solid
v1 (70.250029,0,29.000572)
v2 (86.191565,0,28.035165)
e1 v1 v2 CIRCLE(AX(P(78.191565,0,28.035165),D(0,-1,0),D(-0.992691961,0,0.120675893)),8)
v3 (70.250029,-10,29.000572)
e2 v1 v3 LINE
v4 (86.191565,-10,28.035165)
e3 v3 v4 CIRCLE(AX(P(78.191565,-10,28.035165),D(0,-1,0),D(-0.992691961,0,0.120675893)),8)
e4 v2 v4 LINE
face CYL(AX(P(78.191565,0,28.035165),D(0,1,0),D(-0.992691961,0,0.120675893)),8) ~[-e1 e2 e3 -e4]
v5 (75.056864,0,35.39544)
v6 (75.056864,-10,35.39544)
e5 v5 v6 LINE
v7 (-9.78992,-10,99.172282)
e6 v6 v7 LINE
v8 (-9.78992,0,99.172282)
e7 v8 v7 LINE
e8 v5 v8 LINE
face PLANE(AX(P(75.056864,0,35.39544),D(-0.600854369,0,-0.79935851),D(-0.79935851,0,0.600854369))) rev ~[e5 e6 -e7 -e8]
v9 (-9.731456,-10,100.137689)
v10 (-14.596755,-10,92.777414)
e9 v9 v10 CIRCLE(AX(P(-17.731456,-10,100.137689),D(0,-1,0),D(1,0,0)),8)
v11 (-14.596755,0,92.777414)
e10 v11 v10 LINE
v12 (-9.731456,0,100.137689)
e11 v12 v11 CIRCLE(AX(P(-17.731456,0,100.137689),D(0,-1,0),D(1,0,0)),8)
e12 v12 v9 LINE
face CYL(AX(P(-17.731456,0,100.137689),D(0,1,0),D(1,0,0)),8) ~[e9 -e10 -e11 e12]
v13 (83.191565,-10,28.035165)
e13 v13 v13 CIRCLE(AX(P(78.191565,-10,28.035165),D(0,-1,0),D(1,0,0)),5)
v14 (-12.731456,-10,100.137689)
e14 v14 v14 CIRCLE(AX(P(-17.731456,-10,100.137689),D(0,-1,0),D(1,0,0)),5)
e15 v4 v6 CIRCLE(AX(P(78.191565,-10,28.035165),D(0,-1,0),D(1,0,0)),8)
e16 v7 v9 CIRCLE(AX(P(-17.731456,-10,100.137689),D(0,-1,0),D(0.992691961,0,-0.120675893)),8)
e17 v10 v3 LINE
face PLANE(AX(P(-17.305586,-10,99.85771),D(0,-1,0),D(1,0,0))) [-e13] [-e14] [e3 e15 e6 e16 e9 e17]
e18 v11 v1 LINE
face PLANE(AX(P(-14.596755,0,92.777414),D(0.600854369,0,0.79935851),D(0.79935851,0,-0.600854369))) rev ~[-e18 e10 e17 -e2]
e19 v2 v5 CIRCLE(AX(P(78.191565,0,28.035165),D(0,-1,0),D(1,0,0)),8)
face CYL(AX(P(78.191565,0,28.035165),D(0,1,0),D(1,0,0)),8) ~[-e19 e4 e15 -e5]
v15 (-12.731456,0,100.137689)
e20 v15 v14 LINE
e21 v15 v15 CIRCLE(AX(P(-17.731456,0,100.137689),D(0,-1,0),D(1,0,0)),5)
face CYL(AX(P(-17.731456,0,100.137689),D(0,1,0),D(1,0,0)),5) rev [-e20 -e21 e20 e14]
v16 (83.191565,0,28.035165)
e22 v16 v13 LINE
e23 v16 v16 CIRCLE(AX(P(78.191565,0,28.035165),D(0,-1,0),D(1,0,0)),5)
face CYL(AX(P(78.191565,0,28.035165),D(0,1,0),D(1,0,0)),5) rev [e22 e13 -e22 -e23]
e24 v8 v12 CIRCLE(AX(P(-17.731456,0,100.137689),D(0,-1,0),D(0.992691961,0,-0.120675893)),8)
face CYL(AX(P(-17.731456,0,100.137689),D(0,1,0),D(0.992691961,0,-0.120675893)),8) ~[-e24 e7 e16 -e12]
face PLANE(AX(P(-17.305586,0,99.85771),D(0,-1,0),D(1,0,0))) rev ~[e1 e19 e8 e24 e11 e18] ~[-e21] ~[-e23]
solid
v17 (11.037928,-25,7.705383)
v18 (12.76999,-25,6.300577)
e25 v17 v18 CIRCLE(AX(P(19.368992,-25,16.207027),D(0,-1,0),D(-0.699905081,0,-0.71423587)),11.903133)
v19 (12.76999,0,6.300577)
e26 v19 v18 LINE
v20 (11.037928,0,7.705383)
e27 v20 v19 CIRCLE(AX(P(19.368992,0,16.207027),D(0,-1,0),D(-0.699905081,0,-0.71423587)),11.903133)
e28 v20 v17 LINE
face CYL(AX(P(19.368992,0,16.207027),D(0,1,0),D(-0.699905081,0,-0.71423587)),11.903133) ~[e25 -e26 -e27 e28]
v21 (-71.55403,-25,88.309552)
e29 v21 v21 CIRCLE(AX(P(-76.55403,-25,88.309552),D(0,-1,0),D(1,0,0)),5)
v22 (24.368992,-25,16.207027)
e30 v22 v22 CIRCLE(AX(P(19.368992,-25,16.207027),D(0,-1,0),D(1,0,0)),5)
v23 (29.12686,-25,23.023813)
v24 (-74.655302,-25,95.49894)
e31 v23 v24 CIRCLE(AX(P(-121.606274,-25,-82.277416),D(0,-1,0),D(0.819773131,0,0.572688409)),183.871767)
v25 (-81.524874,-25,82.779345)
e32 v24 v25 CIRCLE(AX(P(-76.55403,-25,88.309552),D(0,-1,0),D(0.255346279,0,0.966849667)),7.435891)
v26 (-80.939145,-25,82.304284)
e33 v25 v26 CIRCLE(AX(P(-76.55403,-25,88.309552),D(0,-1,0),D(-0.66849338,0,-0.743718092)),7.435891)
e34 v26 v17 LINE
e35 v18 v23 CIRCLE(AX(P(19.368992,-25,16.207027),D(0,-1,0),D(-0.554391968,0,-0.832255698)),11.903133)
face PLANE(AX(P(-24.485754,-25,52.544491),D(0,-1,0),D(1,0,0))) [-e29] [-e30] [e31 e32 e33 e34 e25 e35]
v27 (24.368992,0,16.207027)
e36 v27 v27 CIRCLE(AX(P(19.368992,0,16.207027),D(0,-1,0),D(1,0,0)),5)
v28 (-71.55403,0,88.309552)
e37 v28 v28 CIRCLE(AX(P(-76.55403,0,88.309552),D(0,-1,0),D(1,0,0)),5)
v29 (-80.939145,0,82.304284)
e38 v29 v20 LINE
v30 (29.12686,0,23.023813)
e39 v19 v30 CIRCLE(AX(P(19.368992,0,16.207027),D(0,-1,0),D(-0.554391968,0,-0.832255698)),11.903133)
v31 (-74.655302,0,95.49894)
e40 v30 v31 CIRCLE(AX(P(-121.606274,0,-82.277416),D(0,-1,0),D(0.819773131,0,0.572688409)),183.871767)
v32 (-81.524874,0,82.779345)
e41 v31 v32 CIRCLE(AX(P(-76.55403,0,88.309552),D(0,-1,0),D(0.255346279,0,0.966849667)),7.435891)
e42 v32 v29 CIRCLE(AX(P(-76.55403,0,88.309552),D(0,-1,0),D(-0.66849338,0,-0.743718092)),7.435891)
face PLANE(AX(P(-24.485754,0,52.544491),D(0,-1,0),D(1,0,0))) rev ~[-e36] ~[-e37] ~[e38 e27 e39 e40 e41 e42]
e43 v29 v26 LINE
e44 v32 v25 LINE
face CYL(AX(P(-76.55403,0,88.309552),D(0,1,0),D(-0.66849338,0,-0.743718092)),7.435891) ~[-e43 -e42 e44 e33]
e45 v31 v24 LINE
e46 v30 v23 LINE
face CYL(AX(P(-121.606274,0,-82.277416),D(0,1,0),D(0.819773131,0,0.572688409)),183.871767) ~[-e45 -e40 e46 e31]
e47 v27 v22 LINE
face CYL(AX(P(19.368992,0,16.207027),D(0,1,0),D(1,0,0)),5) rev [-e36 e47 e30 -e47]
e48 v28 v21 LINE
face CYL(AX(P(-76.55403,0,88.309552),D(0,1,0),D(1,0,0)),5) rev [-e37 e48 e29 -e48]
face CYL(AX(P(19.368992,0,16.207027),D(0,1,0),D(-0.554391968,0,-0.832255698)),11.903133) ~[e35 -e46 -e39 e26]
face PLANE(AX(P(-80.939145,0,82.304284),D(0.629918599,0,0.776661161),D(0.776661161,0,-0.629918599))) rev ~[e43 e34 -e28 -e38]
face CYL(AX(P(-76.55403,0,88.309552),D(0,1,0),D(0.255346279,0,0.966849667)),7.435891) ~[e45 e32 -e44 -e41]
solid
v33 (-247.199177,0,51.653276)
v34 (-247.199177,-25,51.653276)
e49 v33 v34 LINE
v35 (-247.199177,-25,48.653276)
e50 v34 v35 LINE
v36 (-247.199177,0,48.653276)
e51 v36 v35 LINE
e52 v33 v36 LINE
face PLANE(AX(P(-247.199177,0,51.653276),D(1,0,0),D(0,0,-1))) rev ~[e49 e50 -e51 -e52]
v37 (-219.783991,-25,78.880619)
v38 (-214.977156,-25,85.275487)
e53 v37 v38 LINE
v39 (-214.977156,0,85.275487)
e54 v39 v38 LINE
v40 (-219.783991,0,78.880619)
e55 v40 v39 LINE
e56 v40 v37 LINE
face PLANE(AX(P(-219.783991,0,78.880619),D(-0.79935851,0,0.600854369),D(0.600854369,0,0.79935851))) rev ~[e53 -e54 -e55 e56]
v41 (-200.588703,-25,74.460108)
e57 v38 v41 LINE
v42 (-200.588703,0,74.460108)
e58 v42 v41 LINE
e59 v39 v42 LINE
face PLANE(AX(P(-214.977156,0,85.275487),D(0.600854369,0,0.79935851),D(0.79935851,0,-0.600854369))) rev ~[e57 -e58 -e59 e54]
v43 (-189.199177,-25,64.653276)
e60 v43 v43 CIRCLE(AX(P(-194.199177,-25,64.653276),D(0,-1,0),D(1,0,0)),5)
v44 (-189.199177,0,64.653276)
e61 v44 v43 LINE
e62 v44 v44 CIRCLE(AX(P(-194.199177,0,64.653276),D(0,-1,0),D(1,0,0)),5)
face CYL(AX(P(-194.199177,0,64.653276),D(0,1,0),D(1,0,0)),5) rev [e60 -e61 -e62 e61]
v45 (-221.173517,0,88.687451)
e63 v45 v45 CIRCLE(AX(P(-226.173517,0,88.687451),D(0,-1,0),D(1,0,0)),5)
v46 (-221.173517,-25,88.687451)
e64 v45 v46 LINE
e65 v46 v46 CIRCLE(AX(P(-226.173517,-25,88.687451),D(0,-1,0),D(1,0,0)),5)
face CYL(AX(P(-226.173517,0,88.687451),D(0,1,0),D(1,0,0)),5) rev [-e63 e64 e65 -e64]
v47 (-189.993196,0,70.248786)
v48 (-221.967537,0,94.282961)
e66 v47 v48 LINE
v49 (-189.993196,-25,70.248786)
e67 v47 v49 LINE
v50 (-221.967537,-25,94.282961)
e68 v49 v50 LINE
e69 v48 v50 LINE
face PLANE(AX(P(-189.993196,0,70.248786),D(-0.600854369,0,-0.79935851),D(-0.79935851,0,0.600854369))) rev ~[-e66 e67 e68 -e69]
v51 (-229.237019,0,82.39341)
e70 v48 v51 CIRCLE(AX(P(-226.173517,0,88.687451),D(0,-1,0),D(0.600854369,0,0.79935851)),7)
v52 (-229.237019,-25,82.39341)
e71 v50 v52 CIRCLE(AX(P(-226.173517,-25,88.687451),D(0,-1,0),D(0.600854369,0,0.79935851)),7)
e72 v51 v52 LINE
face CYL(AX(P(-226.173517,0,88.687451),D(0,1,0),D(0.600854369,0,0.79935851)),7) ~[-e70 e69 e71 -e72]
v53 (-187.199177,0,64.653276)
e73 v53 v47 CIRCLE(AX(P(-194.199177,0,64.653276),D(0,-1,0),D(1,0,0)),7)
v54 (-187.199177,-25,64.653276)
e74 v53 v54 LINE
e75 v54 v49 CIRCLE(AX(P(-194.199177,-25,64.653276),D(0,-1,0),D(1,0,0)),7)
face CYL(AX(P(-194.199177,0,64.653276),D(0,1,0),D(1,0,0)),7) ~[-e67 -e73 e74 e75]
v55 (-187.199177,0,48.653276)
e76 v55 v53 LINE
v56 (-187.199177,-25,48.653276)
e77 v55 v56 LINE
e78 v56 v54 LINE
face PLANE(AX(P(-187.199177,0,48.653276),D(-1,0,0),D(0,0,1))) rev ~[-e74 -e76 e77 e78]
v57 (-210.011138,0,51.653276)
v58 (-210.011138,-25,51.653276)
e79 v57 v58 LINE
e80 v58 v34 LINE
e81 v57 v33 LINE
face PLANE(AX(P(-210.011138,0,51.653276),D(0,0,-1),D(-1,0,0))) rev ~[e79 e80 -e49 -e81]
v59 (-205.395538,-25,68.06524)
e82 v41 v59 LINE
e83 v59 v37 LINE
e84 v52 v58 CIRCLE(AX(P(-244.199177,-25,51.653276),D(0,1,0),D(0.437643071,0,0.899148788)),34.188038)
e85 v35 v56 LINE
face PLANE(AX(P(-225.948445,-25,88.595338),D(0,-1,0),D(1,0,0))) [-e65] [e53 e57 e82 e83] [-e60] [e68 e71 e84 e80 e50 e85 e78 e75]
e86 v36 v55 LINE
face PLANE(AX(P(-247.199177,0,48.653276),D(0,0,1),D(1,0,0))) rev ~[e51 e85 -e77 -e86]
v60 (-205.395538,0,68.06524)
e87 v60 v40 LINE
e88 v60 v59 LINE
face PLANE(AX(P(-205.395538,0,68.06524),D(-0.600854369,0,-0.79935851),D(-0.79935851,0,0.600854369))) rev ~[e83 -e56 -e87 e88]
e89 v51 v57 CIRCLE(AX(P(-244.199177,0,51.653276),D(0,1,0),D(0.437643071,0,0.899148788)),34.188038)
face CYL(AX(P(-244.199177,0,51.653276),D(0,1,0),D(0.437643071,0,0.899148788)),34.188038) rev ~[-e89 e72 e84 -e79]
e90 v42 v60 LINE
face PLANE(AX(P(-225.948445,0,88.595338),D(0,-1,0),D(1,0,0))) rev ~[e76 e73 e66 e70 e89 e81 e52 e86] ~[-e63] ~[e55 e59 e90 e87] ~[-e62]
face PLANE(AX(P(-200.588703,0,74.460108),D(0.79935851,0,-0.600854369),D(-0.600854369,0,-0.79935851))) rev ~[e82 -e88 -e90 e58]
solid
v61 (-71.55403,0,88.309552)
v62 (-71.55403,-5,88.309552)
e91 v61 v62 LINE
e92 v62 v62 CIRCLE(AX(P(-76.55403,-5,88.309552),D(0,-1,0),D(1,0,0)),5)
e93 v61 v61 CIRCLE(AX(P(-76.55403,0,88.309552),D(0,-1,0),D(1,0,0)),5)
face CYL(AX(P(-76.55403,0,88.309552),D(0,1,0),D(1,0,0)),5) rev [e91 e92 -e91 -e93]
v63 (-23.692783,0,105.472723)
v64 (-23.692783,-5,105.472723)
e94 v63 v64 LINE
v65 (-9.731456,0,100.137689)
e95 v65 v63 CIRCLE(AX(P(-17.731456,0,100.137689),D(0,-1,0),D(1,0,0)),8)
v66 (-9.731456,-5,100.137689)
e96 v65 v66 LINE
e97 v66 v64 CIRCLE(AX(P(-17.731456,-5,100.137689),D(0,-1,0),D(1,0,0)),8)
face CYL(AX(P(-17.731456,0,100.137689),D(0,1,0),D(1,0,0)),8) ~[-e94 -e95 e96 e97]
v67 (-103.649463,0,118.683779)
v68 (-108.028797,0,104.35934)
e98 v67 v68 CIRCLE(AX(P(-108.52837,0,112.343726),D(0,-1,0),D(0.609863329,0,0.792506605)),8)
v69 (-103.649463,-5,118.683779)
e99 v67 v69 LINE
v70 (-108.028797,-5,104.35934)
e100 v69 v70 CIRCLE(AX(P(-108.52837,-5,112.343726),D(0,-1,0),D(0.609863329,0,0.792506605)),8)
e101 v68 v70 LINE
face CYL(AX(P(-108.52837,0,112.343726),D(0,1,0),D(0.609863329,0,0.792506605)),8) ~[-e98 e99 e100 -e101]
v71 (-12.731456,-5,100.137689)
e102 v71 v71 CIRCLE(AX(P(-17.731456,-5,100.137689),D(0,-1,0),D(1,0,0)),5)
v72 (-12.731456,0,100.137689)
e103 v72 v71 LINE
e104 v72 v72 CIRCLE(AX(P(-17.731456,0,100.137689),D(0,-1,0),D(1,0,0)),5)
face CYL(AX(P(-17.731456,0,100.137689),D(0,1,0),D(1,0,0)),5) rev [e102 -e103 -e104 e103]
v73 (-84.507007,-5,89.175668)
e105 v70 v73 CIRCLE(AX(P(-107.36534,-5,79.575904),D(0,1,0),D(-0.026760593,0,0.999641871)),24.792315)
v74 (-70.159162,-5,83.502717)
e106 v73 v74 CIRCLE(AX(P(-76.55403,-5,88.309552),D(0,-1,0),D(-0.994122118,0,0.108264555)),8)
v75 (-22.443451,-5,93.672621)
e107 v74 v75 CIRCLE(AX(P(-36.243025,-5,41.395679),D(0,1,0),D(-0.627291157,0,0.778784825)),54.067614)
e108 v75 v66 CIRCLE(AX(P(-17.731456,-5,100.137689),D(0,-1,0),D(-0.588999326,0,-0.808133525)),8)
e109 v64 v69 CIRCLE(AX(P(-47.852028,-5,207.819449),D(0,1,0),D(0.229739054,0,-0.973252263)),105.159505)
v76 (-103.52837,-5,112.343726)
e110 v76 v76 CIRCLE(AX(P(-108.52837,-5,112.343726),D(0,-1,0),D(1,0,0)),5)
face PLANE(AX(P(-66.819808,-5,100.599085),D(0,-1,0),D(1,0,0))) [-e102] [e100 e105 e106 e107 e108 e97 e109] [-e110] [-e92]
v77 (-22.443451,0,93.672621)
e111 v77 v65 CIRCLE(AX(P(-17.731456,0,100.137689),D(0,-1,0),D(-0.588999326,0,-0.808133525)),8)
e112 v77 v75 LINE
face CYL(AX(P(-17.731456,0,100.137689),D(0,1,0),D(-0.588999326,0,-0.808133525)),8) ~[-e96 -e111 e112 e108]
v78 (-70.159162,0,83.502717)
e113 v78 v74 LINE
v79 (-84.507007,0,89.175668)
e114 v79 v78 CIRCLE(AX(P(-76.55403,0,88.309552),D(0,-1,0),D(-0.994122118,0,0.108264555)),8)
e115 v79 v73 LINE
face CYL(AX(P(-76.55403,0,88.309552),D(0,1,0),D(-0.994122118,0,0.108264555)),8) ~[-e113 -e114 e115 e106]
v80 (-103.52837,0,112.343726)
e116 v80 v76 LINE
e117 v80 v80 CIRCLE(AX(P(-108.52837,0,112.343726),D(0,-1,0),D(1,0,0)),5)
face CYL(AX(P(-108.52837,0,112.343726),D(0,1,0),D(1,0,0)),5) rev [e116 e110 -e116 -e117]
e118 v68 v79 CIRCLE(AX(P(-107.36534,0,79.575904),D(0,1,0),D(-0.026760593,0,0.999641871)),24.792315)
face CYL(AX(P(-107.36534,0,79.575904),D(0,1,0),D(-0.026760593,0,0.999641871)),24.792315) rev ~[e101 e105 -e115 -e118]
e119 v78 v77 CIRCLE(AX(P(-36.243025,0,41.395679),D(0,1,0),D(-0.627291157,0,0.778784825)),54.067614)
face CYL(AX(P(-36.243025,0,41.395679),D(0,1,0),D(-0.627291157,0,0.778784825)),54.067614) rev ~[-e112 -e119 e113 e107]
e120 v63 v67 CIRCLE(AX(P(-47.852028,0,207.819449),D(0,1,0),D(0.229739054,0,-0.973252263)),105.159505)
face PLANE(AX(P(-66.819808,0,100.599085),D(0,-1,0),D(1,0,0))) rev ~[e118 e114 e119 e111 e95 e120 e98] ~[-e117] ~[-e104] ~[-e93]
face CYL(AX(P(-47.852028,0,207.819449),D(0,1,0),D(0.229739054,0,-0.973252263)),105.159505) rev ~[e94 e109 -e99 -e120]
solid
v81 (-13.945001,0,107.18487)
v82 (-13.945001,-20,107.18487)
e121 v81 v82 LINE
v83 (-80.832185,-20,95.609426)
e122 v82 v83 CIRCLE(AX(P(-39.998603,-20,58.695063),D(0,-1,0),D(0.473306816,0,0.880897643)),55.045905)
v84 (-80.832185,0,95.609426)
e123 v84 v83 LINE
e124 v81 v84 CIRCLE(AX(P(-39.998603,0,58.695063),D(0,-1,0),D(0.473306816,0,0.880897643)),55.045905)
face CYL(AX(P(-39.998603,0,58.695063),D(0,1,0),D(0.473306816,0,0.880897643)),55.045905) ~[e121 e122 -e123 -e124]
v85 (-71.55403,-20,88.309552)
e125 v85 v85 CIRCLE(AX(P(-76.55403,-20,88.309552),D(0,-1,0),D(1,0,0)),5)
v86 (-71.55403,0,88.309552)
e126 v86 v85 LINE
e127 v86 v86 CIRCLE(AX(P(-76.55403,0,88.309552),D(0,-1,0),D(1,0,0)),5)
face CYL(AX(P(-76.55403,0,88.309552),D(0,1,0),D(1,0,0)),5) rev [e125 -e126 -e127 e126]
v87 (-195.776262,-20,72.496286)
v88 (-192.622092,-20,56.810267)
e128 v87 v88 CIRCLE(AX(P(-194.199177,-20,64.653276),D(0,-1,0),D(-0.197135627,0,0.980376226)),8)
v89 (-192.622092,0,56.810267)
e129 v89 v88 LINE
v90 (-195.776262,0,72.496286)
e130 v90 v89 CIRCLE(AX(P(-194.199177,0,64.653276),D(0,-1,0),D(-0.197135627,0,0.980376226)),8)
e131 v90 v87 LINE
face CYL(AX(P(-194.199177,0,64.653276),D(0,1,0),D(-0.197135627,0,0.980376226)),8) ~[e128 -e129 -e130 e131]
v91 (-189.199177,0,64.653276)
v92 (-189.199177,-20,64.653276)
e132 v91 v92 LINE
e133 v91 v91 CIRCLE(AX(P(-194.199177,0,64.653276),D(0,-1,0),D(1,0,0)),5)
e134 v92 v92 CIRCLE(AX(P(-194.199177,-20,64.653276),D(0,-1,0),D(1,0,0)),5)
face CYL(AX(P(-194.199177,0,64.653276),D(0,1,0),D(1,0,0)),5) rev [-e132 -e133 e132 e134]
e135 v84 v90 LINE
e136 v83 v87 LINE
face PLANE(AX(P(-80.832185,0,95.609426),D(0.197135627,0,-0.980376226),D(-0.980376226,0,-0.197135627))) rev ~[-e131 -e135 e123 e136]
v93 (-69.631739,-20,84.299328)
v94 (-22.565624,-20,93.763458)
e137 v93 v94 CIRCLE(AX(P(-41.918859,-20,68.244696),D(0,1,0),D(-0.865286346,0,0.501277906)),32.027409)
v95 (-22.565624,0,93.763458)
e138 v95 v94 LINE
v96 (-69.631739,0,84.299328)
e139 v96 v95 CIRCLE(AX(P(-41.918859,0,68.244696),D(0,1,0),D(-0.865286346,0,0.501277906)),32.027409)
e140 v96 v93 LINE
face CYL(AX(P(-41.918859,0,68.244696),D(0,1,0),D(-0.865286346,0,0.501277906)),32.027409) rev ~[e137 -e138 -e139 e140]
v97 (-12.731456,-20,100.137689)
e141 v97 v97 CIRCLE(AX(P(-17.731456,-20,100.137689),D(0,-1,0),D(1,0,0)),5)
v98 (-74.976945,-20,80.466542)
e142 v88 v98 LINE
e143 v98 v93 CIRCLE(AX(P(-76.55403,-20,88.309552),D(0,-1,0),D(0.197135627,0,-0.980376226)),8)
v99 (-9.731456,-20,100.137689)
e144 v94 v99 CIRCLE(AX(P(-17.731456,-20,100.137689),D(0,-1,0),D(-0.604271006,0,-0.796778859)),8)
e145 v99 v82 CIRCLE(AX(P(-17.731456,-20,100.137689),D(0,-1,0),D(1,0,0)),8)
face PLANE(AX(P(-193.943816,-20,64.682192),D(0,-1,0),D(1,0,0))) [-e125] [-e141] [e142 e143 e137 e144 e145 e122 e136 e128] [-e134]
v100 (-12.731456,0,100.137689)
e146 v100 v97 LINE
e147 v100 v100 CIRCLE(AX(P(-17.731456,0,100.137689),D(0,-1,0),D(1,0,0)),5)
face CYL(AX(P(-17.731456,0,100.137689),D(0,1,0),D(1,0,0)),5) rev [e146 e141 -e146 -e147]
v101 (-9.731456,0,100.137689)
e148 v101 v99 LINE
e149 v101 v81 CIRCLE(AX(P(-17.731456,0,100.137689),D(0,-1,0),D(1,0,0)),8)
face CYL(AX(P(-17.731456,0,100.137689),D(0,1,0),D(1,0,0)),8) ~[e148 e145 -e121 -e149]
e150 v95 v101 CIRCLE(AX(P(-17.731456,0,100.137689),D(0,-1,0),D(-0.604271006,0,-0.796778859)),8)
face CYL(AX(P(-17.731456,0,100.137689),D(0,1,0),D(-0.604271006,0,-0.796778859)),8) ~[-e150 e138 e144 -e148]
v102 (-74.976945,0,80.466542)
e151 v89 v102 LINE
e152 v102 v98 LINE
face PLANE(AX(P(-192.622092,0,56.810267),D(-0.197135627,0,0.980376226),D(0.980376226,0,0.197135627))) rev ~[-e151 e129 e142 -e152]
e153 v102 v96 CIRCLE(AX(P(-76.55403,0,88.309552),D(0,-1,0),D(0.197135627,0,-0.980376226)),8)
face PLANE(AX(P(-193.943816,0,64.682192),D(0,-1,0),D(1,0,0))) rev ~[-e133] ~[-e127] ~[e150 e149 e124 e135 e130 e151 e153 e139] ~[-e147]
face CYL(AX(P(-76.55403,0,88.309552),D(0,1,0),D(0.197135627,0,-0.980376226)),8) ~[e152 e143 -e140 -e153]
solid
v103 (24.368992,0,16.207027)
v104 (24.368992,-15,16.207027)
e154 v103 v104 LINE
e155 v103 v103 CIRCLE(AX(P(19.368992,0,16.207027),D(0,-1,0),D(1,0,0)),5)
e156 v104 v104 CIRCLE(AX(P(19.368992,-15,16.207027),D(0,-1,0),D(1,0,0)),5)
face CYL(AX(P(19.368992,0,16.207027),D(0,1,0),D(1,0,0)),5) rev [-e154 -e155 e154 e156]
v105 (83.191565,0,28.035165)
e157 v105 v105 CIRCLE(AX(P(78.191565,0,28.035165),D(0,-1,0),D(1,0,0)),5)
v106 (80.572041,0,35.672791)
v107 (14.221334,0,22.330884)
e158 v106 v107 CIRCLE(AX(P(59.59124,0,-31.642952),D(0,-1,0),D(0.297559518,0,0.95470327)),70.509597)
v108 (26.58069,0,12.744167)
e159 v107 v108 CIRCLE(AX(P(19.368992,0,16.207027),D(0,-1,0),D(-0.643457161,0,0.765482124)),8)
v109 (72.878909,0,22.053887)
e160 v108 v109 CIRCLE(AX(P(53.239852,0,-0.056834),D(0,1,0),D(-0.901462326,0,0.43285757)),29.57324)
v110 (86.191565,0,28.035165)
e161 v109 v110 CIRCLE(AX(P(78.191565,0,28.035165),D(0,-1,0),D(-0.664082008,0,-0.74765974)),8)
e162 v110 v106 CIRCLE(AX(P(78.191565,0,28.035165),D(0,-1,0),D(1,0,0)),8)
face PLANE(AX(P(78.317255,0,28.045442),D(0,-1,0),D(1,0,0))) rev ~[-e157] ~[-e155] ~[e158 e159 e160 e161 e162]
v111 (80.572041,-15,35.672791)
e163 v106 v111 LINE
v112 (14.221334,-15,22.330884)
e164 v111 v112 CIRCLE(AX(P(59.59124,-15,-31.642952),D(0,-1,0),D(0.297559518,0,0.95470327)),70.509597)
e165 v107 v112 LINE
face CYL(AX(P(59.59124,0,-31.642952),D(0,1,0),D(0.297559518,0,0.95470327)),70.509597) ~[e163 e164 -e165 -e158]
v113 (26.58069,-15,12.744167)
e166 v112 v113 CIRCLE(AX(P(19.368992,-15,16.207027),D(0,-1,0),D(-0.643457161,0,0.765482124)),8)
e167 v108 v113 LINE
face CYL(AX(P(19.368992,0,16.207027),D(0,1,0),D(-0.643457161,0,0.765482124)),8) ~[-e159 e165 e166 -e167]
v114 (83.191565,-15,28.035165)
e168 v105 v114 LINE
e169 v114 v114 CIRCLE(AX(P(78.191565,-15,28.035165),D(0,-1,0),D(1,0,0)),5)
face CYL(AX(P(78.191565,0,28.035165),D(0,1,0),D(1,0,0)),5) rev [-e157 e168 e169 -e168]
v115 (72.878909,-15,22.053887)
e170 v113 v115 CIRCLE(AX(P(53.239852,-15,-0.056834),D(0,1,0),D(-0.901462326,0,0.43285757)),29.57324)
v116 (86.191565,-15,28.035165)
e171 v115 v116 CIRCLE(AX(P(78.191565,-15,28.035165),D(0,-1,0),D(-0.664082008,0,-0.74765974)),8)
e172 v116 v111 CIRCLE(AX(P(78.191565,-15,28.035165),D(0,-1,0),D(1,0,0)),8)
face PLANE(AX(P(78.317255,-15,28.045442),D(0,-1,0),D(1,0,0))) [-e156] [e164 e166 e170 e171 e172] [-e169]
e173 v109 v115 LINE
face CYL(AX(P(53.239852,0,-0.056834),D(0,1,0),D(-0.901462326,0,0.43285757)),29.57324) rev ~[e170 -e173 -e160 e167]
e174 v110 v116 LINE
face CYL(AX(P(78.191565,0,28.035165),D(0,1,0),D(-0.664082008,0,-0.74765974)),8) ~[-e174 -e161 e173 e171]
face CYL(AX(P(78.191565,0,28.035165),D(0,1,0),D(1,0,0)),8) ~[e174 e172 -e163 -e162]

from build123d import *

# Parameters (mm, degrees)
F0_R      = 5
F4_DEPTH  = 25
F1_R      = 5
F5_DEPTH  = 20
F2_R      = 5
F6_DEPTH  = 10
F3_R      = 5
F7_DEPTH  = 15
F8_R      = 5
F9_DEPTH  = 5
F10_R     = 5
F11_DEPTH = 25


with BuildPart() as f4:
    # F0 (on Front) → F4 (new body)
    with BuildSketch(Plane.XZ):
        with BuildLine():
            ThreePointArc((12.7699903188, 6.3005770724), (27.8784727318, 7.8839687241), (29.1268600919, 23.0238134704))
            ThreePointArc((29.1268600919, 23.0238134704), (-16.3308618215, 68.473750537), (-74.6553024585, 95.4989403661))
            ThreePointArc((-74.6553024585, 95.4989403661), (-83.0966974862, 91.8431011822), (-81.5248735554, 82.779344804))
            Line((-81.5248735554, 82.779344804), (-80.9391446442, 82.3042836658))
            Line((-80.9391446442, 82.3042836658), (11.0379283983, 7.7053827625))
            Line((11.0379283983, 7.7053827625), (12.7699903188, 6.3005770724))
        make_face()
        with Locations((19.3689915792, 16.2070272359)):
            Circle(F0_R, mode=Mode.SUBTRACT)
        with Locations((-76.5540295824, 88.3095515414)):
            Circle(F0_R, mode=Mode.SUBTRACT)
        with BuildLine():
            ThreePointArc((11.0379283983, 7.7053827625), (11.8709867905, 6.9623262313), (12.7699903188, 6.3005770724))
            Line((12.7699903188, 6.3005770724), (11.0379283983, 7.7053827625))
        make_face()
        with BuildLine():
            Line((-80.9391446442, 82.3042836658), (-81.5248735554, 82.779344804))
            ThreePointArc((-81.5248735554, 82.779344804), (-81.2380356815, 82.5343837321), (-80.9391446442, 82.3042836658))
        make_face()
    extrude(amount=F4_DEPTH)


with BuildPart() as f5:
    # F1 (on Front) → F5 (new body)
    with BuildSketch(Plane.XZ):
        with BuildLine():
            ThreePointArc((-192.6220917004, 56.8102665311), (-188.0098035587, 59.5845822333), (-186.1991767139, 64.6532763399))
            ThreePointArc((-186.1991767139, 64.6532763399), (-189.1304826073, 70.842649495), (-195.7762617273, 72.4962861486))
            ThreePointArc((-195.7762617273, 72.4962861486), (-202.0421865226, 63.0761913264), (-192.6220917004, 56.8102665311))
        make_face()
        with Locations((-194.1991767139, 64.6532763399)):
            Circle(F1_R, mode=Mode.SUBTRACT)
        with BuildLine():
            ThreePointArc((-195.7762617273, 72.4962861486), (-189.1304826073, 70.842649495), (-186.1991767139, 64.6532763399))
            ThreePointArc((-186.1991767139, 64.6532763399), (-188.0098035587, 59.5845822333), (-192.6220917004, 56.8102665311))
            Line((-192.6220917004, 56.8102665311), (-74.976944569, 80.4665417327))
            ThreePointArc((-74.976944569, 80.4665417327), (-83.3984734066, 84.1678624249), (-82.7701585395, 93.3453971297))
            ThreePointArc((-82.7701585395, 93.3453971297), (-81.8164965769, 94.4905291082), (-80.8321852652, 95.6094257203))
            Line((-80.8321852652, 95.6094257203), (-195.7762617273, 72.4962861486))
        make_face()
        with BuildLine():
            ThreePointArc((-13.9450014887, 107.1848702884), (-49.3852791074, 112.9347338495), (-80.8321852652, 95.6094257203))
            Line((-80.8321852652, 95.6094257203), (-78.1311145958, 96.1525613502))
            ThreePointArc((-78.1311145958, 96.1525613502), (-71.4853354758, 94.4989246966), (-68.5540295824, 88.3095515414))
            ThreePointArc((-68.5540295824, 88.3095515414), (-68.8281533807, 86.2332960377), (-69.6317388116, 84.2993282953))
            ThreePointArc((-69.6317388116, 84.2993282953), (-48.2326022775, 99.6436062673), (-22.5656240685, 93.7634582673))
            ThreePointArc((-22.5656240685, 93.7634582673), (-24.4625778449, 104.4611135874), (-13.9450014887, 107.1848702884))
        make_face()
        with BuildLine():
            Line((-78.1311145958, 96.1525613502), (-80.8321852652, 95.6094257203))
            ThreePointArc((-80.8321852652, 95.6094257203), (-81.8164965769, 94.4905291082), (-82.7701585395, 93.3453971297))
            ThreePointArc((-82.7701585395, 93.3453971297), (-80.6957186989, 95.1539953656), (-78.1311145958, 96.1525613502))
        make_face()
        with BuildLine():
            ThreePointArc((-82.7701585395, 93.3453971297), (-83.3984734066, 84.1678624249), (-74.976944569, 80.4665417327))
            ThreePointArc((-74.976944569, 80.4665417327), (-71.8922262415, 81.8081986353), (-69.6317388116, 84.2993282953))
            ThreePointArc((-69.6317388116, 84.2993282953), (-68.8281533807, 86.2332960377), (-68.5540295824, 88.3095515414))
            ThreePointArc((-68.5540295824, 88.3095515414), (-71.4853354758, 94.4989246966), (-78.1311145958, 96.1525613502))
            ThreePointArc((-78.1311145958, 96.1525613502), (-80.6957186989, 95.1539953656), (-82.7701585395, 93.3453971297))
        make_face()
        with Locations((-76.5540295824, 88.3095515414)):
            Circle(F1_R, mode=Mode.SUBTRACT)
        with BuildLine():
            ThreePointArc((-9.7314560167, 100.1376891422), (-10.8651747734, 104.2430736416), (-13.9450014887, 107.1848702884))
            ThreePointArc((-13.9450014887, 107.1848702884), (-24.4625778449, 104.4611135874), (-22.5656240685, 93.7634582673))
            ThreePointArc((-22.5656240685, 93.7634582673), (-14.1728990349, 92.9727277182), (-9.7314560167, 100.1376891422))
        make_face()
        with Locations((-17.7314560167, 100.1376891422)):
            Circle(F1_R, mode=Mode.SUBTRACT)
    extrude(amount=F5_DEPTH)


with BuildPart() as f6:
    # F2 (on Front) → F6 (new body)
    with BuildSketch(Plane.XZ):
        with BuildLine():
            ThreePointArc((-14.5967552846, 92.7774139218), (-11.3365879392, 95.3308541885), (-9.7899203309, 99.1722819992))
            ThreePointArc((-9.7899203309, 99.1722819992), (-9.7460854715, 99.6541012423), (-9.7314560167, 100.1376891422))
            ThreePointArc((-9.7314560167, 100.1376891422), (-24.4051958174, 104.5491738211), (-14.5967552846, 92.7774139218))
        make_face()
        with Locations((-17.7314560167, 100.1376891422)):
            Circle(F2_R, mode=Mode.SUBTRACT)
        with BuildLine():
            ThreePointArc((70.2500294592, 29.0005719797), (77.7079772451, 20.0497942916), (86.191565145, 28.0351648367))
            ThreePointArc((86.191565145, 28.0351648367), (82.6030498238, 34.7089046375), (75.0568644129, 35.3954400571))
            ThreePointArc((75.0568644129, 35.3954400571), (71.7966970675, 32.8419997904), (70.2500294592, 29.0005719797))
        make_face()
        with Locations((78.191565145, 28.0351648367)):
            Circle(F2_R, mode=Mode.SUBTRACT)
        with BuildLine():
            ThreePointArc((70.2500294592, 29.0005719797), (71.7966970675, 32.8419997904), (75.0568644129, 35.3954400571))
            Line((75.0568644129, 35.3954400571), (-9.7899203309, 99.1722819992))
            ThreePointArc((-9.7899203309, 99.1722819992), (-11.3365879392, 95.3308541885), (-14.5967552846, 92.7774139218))
            Line((-14.5967552846, 92.7774139218), (70.2500294592, 29.0005719797))
        make_face()
    extrude(amount=F6_DEPTH)


with BuildPart() as f7:
    # F3 (on Front) → F7 (new body)
    with BuildSketch(Plane.XZ):
        with BuildLine():
            ThreePointArc((72.8789090776, 22.0538869206), (81.4701892056, 20.737862303), (86.191565145, 28.0351648367))
            ThreePointArc((86.191565145, 28.0351648367), (84.63531441, 32.7762718181), (80.5720412928, 35.6727909934))
            ThreePointArc((80.5720412928, 35.6727909934), (71.2260747239, 31.9698748887), (72.8789090776, 22.0538869206))
        make_face()
        with Locations((78.191565145, 28.0351648367)):
            Circle(F3_R, mode=Mode.SUBTRACT)
        with BuildLine():
            ThreePointArc((72.8789090776, 22.0538869206), (71.2260747239, 31.9698748887), (80.5720412928, 35.6727909934))
            ThreePointArc((80.5720412928, 35.6727909934), (45.6912858895, 37.4829808146), (14.2213342902, 22.330884226))
            ThreePointArc((14.2213342902, 22.330884226), (22.7467675996, 23.4589669183), (27.3689915792, 16.2070272359))
            ThreePointArc((27.3689915792, 16.2070272359), (27.1694271068, 14.4313004607), (26.5806901842, 12.7441666797))
            ThreePointArc((26.5806901842, 12.7441666797), (47.4099129478, 28.9360675152), (72.8789090776, 22.0538869206))
        make_face()
        with BuildLine():
            ThreePointArc((27.3689915792, 16.2070272359), (22.7467675996, 23.4589669183), (14.2213342902, 22.330884226))
            ThreePointArc((14.2213342902, 22.330884226), (14.4657931367, 9.8857421582), (26.5806901842, 12.7441666797))
            ThreePointArc((26.5806901842, 12.7441666797), (27.1694271068, 14.4313004607), (27.3689915792, 16.2070272359))
        make_face()
        with Locations((19.3689915792, 16.2070272359)):
            Circle(F3_R, mode=Mode.SUBTRACT)
    extrude(amount=F7_DEPTH)


with BuildPart() as f9:
    # F8 (on Front) → F9 (new body)
    with BuildSketch(Plane.XZ):
        with BuildLine():
            ThreePointArc((-103.6494633346, 118.6837791526), (-101.3509312524, 115.8770495983), (-100.5283699696, 112.3437263099))
            ThreePointArc((-100.5283699696, 112.3437263099), (-102.6975645601, 106.8663447935), (-108.0287970387, 104.359339866))
            ThreePointArc((-108.0287970387, 104.359339866), (-93.9195559776, 100.4054446337), (-84.5070065292, 89.1756679793))
            ThreePointArc((-84.5070065292, 89.1756679793), (-76.1203335911, 96.2977871281), (-68.5540295824, 88.3095515414))
            ThreePointArc((-68.5540295824, 88.3095515414), (-68.9659156988, 85.7756755204), (-70.159161505, 83.5027165877))
            ThreePointArc((-70.159161505, 83.5027165877), (-47.5135953993, 94.2755538632), (-22.4434506231, 93.6726209424))
            ThreePointArc((-22.4434506231, 93.6726209424), (-25.6869916993, 99.295399405), (-23.6927825629, 105.4727229574))
            ThreePointArc((-23.6927825629, 105.4727229574), (-64.9948622402, 104.0666433234), (-103.6494633346, 118.6837791526))
        make_face()
        with BuildLine():
            ThreePointArc((-108.0287970387, 104.359339866), (-102.6975645601, 106.8663447935), (-100.5283699696, 112.3437263099))
            ThreePointArc((-100.5283699696, 112.3437263099), (-101.3509312524, 115.8770495983), (-103.6494633346, 118.6837791526))
            ThreePointArc((-103.6494633346, 118.6837791526), (-116.1788209909, 114.6826575127), (-108.0287970387, 104.359339866))
        make_face()
        with Locations((-108.5283699696, 112.3437263099)):
            Circle(F8_R, mode=Mode.SUBTRACT)
        with BuildLine():
            ThreePointArc((-68.5540295824, 88.3095515414), (-76.1203335911, 96.2977871281), (-84.5070065292, 89.1756679793))
            ThreePointArc((-84.5070065292, 89.1756679793), (-79.4955462295, 80.8699628556), (-70.159161505, 83.5027165877))
            ThreePointArc((-70.159161505, 83.5027165877), (-68.9659156988, 85.7756755204), (-68.5540295824, 88.3095515414))
        make_face()
        with Locations((-76.5540295824, 88.3095515414)):
            Circle(F8_R, mode=Mode.SUBTRACT)
        with BuildLine():
            ThreePointArc((-9.7314560167, 100.1376891422), (-14.8758135644, 107.6106608527), (-23.6927825629, 105.4727229574))
            ThreePointArc((-23.6927825629, 105.4727229574), (-25.6869916993, 99.295399405), (-22.4434506231, 93.6726209424))
            ThreePointArc((-22.4434506231, 93.6726209424), (-14.1048844161, 93.0069122963), (-9.7314560167, 100.1376891422))
        make_face()
        with Locations((-17.7314560167, 100.1376891422)):
            Circle(F8_R, mode=Mode.SUBTRACT)
    extrude(amount=F9_DEPTH)


with BuildPart() as f11:
    # F10 (on Front) → F11 (new body)
    with BuildSketch(Plane.XZ):
        with BuildLine():
            ThreePointArc((-229.2370185997, 82.3934095953), (-222.4616786409, 82.7526170547), (-219.1735171011, 88.6874511084))
            ThreePointArc((-219.1735171011, 88.6874511084), (-219.910855363, 91.8146012414), (-221.9675365166, 94.2829606761))
            ThreePointArc((-221.9675365166, 94.2829606761), (-232.145675073, 92.3389342535), (-229.2370185997, 82.3934095953))
        make_face()
        with Locations((-226.1735171011, 88.6874511084)):
            Circle(F10_R, mode=Mode.SUBTRACT)
        with BuildLine():
            ThreePointArc((-221.9675365166, 94.2829606761), (-219.910855363, 91.8146012414), (-219.1735171011, 88.6874511084))
            ThreePointArc((-219.1735171011, 88.6874511084), (-222.4616786409, 82.7526170547), (-229.2370185997, 82.3934095953))
            ThreePointArc((-229.2370185997, 82.3934095953), (-215.2134146591, 69.781915729), (-210.0111383379, 51.6532763399))
            Line((-210.0111383379, 51.6532763399), (-187.1991767139, 51.6532763399))
            Line((-187.1991767139, 51.6532763399), (-187.1991767139, 64.6532763399))
            ThreePointArc((-187.1991767139, 64.6532763399), (-200.461838452, 61.5261262069), (-189.9931961294, 70.2487859076))
            Line((-189.9931961294, 70.2487859076), (-221.9675365166, 94.2829606761))
        make_face()
        Polygon((-200.5887028435, 74.4601084399), (-205.3955377972, 68.0652403625), (-219.7839909715, 78.8806190083), (-214.9771560178, 85.2754870858), align=None, mode=Mode.SUBTRACT)
        with BuildLine():
            ThreePointArc((-187.1991767139, 64.6532763399), (-187.9365149758, 67.7804264729), (-189.9931961294, 70.2487859076))
            ThreePointArc((-189.9931961294, 70.2487859076), (-200.461838452, 61.5261262069), (-187.1991767139, 64.6532763399))
        make_face()
        with Locations((-194.1991767139, 64.6532763399)):
            Circle(F10_R, mode=Mode.SUBTRACT)
        Polygon((-187.1991767139, 51.6532763399), (-210.0111383379, 51.6532763399), (-247.1991767139, 51.6532763399), (-247.1991767139, 48.6532763399), (-187.1991767139, 48.6532763399), align=None)
    extrude(amount=F11_DEPTH)


solid = Compound([f4.part, f5.part, f6.part, f7.part, f9.part, f11.part])
